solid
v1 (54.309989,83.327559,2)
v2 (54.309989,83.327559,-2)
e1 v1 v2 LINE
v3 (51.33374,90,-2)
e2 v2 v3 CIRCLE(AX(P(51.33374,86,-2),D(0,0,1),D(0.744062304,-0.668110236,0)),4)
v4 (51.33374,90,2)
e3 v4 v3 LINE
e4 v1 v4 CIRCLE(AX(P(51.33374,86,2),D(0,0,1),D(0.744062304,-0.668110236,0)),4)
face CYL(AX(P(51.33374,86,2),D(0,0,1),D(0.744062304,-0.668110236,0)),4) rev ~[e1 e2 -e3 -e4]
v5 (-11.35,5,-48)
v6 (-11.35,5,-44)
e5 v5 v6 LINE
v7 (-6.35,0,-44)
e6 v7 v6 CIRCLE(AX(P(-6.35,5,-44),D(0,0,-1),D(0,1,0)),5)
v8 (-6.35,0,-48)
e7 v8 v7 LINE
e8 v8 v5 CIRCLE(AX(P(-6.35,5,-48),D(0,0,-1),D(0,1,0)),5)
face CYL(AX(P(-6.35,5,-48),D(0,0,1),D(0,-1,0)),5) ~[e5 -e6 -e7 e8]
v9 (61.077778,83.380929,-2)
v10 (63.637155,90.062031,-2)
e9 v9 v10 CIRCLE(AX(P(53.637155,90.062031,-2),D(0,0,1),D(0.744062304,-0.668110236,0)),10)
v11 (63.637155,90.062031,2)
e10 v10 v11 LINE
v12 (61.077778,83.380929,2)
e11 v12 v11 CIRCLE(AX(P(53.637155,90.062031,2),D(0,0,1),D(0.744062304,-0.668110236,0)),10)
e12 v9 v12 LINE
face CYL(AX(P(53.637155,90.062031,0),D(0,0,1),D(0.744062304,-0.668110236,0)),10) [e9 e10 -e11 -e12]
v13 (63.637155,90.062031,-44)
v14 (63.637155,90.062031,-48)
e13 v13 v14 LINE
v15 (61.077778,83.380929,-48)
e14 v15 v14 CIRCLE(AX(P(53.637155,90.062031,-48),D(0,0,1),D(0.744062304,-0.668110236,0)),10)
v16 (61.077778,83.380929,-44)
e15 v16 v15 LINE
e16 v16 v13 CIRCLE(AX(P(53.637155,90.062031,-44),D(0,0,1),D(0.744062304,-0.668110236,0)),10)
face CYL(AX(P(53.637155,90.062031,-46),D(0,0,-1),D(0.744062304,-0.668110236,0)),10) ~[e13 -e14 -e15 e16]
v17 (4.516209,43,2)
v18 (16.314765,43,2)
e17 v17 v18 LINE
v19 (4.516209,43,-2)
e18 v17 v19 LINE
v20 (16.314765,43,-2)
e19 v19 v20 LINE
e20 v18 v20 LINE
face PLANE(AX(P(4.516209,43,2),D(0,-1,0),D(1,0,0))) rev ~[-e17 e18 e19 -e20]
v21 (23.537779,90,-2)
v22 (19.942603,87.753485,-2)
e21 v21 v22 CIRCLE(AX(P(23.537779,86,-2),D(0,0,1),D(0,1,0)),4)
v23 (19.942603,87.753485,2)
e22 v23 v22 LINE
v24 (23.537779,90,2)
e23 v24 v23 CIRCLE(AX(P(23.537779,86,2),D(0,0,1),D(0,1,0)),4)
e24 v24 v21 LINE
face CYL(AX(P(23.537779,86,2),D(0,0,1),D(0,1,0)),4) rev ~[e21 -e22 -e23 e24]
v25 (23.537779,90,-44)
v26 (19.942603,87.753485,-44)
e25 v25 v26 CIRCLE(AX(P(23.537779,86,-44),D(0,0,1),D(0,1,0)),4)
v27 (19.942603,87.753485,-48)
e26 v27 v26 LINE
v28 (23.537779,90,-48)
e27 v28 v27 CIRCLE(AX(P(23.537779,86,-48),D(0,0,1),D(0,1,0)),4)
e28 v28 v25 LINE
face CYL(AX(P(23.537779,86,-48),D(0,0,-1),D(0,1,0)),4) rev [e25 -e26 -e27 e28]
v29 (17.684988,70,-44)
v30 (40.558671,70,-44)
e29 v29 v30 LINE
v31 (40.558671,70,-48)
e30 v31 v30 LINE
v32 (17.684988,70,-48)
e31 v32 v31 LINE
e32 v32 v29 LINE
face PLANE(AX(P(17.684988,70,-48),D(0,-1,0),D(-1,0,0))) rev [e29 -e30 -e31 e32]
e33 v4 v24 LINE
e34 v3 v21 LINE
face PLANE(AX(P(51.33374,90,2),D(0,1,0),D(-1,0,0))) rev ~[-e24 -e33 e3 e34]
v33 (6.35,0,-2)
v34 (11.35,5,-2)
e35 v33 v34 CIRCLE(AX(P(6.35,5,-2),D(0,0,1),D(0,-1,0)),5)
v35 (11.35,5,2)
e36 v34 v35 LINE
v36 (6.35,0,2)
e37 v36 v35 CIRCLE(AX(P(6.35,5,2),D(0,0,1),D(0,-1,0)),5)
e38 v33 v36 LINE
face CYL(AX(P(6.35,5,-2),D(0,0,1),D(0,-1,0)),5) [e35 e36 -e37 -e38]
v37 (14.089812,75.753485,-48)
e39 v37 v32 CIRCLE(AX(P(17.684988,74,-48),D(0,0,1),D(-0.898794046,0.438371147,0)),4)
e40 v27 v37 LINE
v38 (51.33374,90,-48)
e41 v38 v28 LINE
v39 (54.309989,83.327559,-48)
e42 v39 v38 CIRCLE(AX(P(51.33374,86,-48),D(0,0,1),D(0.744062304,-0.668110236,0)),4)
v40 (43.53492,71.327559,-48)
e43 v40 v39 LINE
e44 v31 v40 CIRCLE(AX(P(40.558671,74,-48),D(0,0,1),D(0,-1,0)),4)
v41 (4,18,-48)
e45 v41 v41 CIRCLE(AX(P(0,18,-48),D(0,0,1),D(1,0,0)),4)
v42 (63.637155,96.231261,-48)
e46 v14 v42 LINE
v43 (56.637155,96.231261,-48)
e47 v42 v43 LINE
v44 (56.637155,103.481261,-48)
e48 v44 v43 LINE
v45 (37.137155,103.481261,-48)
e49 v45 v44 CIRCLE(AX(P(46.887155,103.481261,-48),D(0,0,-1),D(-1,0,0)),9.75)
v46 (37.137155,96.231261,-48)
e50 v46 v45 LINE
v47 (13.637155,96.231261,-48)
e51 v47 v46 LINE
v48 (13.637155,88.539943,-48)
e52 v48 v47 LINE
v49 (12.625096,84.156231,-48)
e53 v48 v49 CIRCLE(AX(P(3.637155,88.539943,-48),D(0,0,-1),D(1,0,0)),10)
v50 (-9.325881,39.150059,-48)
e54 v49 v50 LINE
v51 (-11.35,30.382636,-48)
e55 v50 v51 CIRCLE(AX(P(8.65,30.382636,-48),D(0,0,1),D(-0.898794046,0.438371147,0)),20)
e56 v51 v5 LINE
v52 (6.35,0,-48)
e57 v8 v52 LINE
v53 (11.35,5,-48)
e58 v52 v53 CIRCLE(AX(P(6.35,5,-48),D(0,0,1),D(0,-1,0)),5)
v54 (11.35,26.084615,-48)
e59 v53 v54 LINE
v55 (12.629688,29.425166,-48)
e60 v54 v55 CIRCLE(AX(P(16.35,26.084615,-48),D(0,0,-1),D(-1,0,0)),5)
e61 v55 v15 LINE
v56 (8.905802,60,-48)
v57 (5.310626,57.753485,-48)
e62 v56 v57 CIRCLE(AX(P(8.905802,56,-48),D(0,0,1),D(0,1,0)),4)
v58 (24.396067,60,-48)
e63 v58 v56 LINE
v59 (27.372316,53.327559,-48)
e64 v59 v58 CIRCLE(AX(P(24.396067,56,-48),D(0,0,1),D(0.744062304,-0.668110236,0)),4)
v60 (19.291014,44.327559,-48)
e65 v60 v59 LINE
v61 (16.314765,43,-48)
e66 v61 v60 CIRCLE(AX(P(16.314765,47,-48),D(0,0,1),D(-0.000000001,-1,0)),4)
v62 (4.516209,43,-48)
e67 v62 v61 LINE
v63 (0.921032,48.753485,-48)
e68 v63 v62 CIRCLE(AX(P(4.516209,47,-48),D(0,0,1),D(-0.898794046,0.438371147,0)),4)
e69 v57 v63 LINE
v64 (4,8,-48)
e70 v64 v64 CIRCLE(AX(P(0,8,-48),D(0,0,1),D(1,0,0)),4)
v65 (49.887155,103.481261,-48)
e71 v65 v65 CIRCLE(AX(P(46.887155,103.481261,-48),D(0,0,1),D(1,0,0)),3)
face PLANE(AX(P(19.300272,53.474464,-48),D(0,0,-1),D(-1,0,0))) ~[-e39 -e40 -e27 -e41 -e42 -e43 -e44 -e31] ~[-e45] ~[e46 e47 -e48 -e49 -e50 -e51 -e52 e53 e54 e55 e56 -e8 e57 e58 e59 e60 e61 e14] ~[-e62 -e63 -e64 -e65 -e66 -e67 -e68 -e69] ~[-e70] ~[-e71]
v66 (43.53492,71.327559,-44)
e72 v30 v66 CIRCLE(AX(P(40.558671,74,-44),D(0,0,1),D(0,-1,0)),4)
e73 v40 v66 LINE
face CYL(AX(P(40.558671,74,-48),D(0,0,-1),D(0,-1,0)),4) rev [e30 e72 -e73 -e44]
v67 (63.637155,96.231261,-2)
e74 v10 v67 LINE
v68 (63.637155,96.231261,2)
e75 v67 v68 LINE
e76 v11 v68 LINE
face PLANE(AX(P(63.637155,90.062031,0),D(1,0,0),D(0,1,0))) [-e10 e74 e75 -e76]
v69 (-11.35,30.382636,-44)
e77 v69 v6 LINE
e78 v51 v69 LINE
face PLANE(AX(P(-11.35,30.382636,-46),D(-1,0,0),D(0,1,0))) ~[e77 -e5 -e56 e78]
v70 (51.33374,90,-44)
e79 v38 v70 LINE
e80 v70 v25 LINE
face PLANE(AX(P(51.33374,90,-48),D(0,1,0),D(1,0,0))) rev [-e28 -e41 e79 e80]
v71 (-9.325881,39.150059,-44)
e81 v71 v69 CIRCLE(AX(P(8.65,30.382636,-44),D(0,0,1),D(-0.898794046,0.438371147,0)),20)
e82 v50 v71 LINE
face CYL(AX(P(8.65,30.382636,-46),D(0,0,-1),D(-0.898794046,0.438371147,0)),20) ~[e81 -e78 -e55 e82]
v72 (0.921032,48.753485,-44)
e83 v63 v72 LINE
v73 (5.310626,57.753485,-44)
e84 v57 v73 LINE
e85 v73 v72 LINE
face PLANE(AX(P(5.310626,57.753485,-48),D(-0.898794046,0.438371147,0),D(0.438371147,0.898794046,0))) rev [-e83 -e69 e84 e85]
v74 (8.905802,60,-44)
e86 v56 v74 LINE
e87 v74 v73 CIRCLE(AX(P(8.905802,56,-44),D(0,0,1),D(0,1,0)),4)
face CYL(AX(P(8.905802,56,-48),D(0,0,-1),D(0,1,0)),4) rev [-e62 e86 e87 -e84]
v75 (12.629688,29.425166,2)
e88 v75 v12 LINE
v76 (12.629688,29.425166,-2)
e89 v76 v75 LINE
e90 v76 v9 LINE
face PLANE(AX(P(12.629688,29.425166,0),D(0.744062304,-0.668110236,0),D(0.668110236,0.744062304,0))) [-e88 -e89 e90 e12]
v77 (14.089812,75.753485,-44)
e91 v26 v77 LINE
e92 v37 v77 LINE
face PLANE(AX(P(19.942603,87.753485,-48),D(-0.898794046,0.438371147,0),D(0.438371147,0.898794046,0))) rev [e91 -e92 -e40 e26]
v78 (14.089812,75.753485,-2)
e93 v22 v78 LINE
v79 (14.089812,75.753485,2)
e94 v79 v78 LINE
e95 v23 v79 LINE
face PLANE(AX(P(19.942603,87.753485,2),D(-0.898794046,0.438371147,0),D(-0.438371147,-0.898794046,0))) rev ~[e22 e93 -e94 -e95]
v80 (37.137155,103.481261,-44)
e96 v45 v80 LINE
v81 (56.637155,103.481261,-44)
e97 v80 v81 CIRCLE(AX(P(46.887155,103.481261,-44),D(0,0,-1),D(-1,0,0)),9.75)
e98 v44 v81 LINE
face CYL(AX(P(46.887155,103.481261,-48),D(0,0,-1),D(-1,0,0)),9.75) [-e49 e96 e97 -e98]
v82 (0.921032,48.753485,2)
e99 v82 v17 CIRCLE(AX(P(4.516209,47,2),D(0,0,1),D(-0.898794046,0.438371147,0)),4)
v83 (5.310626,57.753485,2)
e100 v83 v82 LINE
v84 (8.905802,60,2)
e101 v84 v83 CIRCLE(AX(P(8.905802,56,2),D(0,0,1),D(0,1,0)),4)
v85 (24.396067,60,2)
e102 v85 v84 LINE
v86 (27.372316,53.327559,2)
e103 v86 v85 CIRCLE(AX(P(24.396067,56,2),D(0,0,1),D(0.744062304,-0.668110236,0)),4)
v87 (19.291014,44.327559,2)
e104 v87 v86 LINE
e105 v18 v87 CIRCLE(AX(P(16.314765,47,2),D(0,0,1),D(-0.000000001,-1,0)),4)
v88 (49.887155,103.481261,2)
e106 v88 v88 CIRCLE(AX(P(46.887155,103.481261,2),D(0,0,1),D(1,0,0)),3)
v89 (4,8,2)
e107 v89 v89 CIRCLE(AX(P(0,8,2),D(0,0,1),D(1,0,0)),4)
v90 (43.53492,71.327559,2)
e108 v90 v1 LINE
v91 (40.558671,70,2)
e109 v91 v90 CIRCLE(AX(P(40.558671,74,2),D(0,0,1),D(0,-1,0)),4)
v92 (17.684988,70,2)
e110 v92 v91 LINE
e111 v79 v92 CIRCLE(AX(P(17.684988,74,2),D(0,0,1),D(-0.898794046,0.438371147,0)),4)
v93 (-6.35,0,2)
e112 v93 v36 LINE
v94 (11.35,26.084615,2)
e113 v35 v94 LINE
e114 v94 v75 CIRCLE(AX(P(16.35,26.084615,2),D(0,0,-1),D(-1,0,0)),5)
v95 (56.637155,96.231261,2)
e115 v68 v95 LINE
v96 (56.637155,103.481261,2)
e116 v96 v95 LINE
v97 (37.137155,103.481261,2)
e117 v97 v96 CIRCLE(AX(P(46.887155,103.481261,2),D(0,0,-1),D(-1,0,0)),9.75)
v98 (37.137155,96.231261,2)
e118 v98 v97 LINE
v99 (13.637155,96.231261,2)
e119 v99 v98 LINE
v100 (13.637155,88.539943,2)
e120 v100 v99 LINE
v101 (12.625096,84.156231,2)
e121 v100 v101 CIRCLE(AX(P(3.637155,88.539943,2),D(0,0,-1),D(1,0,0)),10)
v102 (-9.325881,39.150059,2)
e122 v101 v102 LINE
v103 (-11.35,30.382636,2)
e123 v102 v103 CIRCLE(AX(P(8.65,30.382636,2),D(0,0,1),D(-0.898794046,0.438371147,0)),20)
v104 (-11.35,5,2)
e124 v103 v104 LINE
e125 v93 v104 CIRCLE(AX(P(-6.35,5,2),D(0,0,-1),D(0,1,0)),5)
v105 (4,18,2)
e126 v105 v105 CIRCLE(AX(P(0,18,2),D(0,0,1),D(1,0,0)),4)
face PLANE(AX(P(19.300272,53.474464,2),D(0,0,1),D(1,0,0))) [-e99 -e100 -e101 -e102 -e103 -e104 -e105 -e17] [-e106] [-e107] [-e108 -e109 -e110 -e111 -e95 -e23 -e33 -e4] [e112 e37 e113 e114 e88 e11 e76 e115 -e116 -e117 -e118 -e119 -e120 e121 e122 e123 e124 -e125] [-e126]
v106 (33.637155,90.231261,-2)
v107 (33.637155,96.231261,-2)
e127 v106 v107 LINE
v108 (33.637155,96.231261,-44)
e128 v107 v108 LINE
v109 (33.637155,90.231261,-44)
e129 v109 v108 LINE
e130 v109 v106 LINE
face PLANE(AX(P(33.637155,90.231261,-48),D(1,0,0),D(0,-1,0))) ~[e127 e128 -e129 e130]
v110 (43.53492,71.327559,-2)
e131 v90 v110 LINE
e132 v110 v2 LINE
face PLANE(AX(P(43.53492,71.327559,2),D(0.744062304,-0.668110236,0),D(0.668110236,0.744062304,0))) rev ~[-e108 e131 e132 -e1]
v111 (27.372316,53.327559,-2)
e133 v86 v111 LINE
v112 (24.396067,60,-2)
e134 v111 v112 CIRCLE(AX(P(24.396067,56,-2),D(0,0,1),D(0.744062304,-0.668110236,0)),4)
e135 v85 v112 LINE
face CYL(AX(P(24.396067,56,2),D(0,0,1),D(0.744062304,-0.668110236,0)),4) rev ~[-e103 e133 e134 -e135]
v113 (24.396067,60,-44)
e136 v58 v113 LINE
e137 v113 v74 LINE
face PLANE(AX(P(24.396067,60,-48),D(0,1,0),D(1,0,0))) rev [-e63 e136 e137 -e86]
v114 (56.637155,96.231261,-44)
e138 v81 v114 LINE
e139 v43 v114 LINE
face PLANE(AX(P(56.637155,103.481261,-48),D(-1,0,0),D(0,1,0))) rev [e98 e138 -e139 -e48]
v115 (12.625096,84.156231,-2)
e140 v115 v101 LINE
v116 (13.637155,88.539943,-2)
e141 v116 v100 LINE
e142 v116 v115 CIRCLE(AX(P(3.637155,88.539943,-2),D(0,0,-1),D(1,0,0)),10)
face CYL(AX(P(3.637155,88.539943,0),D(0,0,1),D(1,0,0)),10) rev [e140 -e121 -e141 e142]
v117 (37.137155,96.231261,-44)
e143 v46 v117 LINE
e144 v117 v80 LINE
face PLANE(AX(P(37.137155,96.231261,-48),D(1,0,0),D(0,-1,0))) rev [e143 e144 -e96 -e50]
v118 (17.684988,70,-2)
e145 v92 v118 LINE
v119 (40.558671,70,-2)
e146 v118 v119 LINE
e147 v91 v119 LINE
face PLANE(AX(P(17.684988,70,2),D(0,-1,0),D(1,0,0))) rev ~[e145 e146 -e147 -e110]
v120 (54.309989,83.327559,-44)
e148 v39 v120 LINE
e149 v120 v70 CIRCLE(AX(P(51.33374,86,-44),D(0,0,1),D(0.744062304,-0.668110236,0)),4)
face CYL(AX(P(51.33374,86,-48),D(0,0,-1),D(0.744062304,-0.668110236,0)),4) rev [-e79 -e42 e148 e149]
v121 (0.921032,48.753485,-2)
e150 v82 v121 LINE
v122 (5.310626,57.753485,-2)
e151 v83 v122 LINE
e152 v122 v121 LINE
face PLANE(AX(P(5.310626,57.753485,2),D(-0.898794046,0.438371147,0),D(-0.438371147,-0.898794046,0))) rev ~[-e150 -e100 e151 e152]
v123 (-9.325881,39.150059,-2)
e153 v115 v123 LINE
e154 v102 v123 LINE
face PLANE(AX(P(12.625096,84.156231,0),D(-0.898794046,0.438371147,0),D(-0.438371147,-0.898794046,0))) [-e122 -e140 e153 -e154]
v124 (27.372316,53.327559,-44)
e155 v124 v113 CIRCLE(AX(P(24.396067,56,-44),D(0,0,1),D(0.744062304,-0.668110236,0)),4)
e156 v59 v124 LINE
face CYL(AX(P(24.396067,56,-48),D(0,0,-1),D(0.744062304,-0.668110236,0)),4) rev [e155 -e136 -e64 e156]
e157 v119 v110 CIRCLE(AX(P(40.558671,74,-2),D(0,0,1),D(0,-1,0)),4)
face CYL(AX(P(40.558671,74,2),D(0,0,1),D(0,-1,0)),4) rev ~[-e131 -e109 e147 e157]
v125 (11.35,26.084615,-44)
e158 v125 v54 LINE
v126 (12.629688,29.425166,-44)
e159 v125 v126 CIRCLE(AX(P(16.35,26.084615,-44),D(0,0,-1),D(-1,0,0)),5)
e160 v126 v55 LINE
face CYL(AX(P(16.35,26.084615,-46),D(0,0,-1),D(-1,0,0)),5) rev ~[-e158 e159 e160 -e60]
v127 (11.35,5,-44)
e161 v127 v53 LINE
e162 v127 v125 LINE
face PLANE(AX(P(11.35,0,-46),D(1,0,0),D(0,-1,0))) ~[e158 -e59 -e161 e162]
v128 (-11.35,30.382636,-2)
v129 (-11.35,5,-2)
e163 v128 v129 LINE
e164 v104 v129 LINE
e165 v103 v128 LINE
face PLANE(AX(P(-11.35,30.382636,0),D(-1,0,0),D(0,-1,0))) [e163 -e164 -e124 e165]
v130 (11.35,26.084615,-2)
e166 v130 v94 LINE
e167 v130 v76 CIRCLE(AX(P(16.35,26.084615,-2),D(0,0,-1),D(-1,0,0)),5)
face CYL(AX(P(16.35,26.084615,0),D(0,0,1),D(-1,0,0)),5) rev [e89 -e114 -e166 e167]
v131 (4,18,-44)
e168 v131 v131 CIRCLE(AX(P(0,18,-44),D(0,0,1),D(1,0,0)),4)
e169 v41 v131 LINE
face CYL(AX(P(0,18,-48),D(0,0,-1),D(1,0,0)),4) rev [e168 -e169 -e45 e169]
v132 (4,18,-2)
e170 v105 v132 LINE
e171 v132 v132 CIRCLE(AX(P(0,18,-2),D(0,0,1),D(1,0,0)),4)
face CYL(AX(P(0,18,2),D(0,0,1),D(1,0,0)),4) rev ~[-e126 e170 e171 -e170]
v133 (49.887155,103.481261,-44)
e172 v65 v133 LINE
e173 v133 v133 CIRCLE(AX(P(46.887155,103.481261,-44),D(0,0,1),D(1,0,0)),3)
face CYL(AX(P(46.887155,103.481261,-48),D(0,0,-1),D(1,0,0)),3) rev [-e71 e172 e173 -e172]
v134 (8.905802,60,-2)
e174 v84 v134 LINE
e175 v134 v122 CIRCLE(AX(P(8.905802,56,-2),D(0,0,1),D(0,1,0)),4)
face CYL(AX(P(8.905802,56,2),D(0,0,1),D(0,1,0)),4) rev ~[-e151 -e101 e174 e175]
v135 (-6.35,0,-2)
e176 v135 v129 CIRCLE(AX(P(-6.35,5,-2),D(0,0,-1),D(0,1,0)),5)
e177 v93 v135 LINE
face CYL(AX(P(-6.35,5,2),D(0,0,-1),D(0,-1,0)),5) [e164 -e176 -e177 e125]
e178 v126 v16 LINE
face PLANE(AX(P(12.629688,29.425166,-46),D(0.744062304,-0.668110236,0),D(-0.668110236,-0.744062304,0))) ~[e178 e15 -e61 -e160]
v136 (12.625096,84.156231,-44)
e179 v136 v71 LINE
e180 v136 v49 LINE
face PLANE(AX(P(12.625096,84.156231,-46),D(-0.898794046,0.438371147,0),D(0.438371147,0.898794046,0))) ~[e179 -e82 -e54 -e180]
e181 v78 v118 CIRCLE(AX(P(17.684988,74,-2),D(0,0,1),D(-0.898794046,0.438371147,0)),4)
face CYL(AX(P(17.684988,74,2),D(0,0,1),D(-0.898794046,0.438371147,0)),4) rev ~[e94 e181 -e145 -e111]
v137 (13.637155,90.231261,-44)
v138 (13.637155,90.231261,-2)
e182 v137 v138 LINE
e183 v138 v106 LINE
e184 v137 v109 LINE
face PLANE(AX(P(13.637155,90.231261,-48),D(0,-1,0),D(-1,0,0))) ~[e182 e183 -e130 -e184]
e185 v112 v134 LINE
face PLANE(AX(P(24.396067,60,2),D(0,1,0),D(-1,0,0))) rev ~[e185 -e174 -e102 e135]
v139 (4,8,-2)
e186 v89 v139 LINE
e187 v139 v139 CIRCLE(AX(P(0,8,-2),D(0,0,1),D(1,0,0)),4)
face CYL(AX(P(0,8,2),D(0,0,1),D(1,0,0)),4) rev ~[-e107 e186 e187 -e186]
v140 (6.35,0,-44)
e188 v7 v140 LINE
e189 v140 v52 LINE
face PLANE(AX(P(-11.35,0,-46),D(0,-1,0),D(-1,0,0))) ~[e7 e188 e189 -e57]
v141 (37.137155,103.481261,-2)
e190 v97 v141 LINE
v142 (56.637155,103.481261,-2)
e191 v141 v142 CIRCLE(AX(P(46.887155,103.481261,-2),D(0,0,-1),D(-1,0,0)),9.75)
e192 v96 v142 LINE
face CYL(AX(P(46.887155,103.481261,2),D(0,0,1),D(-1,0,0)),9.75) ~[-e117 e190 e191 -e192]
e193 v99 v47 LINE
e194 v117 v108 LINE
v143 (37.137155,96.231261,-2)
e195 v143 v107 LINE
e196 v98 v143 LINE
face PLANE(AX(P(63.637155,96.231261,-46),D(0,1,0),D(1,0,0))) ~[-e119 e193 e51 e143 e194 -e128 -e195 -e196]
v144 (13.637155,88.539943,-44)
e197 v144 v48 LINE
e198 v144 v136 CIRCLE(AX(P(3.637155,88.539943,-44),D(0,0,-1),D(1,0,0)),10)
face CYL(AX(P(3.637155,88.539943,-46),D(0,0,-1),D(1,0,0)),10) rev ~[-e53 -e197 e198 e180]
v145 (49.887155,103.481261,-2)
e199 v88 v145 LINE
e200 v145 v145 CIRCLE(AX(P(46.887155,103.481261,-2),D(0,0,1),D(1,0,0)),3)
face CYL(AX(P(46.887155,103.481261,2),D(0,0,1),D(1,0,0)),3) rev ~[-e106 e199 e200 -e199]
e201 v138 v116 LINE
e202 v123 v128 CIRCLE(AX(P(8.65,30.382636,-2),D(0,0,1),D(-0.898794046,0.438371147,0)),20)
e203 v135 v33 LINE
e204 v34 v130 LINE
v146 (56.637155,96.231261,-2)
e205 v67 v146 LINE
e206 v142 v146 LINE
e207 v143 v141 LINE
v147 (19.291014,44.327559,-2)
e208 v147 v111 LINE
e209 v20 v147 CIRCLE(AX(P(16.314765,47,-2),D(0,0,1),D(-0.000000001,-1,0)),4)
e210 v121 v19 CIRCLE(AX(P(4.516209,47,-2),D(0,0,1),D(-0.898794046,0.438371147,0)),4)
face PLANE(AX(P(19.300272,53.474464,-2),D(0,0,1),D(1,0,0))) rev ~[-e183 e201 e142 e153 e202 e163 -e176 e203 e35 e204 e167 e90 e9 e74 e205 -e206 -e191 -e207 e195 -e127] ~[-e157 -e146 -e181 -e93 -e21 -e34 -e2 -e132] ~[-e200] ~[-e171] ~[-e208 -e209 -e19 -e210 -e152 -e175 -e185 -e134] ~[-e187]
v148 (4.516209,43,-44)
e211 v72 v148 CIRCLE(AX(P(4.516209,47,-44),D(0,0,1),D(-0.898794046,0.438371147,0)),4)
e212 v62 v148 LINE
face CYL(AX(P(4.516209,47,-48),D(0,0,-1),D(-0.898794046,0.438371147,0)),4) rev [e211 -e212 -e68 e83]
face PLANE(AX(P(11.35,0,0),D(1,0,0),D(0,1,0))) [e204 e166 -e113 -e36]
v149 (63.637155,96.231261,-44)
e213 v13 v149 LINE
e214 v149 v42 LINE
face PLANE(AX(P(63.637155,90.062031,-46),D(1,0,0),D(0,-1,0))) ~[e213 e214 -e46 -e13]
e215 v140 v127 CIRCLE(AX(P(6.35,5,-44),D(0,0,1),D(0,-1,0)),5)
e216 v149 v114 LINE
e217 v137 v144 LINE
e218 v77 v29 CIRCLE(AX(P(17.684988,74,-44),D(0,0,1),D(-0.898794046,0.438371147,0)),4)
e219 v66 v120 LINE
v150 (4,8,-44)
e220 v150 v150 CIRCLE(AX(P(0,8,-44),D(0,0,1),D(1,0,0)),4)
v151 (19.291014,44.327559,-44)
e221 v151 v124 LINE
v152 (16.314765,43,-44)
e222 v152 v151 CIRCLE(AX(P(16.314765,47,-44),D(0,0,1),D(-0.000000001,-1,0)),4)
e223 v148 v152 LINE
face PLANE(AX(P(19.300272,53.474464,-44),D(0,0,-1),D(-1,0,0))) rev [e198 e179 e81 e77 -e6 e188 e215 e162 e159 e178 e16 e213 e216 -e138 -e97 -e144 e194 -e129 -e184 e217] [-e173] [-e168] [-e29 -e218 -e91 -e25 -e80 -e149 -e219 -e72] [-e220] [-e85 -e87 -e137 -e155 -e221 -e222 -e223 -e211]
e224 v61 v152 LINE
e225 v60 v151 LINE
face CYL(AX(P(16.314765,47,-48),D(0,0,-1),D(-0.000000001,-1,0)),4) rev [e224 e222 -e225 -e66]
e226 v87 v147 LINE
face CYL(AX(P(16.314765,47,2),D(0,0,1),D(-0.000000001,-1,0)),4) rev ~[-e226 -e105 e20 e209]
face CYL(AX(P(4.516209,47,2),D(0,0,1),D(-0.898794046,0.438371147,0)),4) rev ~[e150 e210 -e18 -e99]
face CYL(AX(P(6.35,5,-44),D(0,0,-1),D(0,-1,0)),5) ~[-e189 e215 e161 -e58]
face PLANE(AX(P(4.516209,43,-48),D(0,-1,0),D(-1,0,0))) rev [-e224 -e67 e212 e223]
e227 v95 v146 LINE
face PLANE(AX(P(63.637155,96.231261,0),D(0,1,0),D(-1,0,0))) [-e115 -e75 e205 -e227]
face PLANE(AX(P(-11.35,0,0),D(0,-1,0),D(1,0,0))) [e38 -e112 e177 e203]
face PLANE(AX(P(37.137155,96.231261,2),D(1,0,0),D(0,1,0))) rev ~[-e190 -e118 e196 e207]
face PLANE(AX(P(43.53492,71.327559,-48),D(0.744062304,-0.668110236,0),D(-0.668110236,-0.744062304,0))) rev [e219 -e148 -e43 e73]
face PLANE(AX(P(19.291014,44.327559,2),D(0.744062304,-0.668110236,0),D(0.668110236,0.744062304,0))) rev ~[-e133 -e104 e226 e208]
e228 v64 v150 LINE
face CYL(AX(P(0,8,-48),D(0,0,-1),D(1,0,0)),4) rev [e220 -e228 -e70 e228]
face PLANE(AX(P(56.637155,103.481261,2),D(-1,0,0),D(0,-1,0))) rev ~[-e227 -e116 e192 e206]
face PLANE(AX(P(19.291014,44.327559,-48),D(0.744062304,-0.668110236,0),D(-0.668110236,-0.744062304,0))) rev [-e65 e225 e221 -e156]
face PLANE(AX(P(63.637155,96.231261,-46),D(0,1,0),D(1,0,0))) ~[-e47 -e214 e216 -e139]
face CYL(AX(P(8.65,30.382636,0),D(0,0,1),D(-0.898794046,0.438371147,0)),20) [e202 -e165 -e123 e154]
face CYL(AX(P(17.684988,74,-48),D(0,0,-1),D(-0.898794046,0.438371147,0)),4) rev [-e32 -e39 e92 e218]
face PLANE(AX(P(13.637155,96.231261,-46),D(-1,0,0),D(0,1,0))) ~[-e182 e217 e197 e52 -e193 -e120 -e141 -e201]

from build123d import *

# Parameters (mm, degrees)
RESSALTO_EXTRUS_O1_DEPTH = 2
FILETE1_R                = 5
ESBO_O2_R                = 4
CORTE_EXTRUS_O1_DEPTH    = 116.438914874
CORTE_EXTRUS_O2_DEPTH    = 116.438914874
RESSALTO_EXTRUS_O2_DEPTH = 4
ESBO_O5_R                = 3
CORTE_EXTRUS_O3_DEPTH    = 130.950013194
ESBO_O6_W                = 20
ESBO_O6_H                = 6
RESSALTO_EXTRUS_O3_DEPTH = 25


with BuildPart() as part:
    # Esboço1 → Ressalto-extrusão1 (new, symmetric)
    with BuildSketch(Plane.XY):
        with BuildLine():
            Line((-11.35, 0), (11.35, 0))
            Line((11.35, 0), (11.35, 26.084614768))
            ThreePointArc((11.35, 26.084614768), (11.680869588, 27.873251455), (12.62968848, 29.425165949))
            Line((12.62968848, 29.425165949), (61.077778408, 83.380928741))
            ThreePointArc((61.077778408, 83.380928741), (62.97541619, 86.484757728), (63.637155367, 90.062031103))
            Line((63.637155367, 90.062031103), (63.637155367, 96.231260639))
            Line((63.637155367, 96.231260639), (13.637155367, 96.231260639))
            Line((13.637155367, 96.231260639), (13.637155367, 88.53994255))
            ThreePointArc((13.637155367, 88.53994255), (13.380856015, 86.290432007), (12.62509583, 84.156231082))
            Line((12.62509583, 84.156231082), (-9.325880926, 39.150059113))
            ThreePointArc((-9.325880926, 39.150059113), (-10.837401296, 34.881657264), (-11.35, 30.382636177))
            Line((-11.35, 30.382636177), (-11.35, 0))
        make_face()
    extrude(amount=RESSALTO_EXTRUS_O1_DEPTH, both=True)

    # Filete1
    filete1_edges = [part.edges().sort_by_distance(p)[0] for p in [
        (11.35, 0, 0),
        (-11.35, 0, 0),
    ]]
    fillet(filete1_edges, radius=FILETE1_R)

    # Esboço2 → Corte-extrusão1 (cut, through all)
    with BuildSketch(Plane.XY.offset(2)):
        with Locations((0, 8)):
            Circle(ESBO_O2_R)
        with Locations((0, 18)):
            Circle(ESBO_O2_R)
    extrude(amount=-CORTE_EXTRUS_O1_DEPTH, mode=Mode.SUBTRACT)

    # Esboço3 → Corte-extrusão2 (cut, through all)
    with BuildSketch(Plane.XY.offset(2)):
        with BuildLine():
            Line((4.516208527, 43), (16.314765002, 43))
            ThreePointArc((16.314765002, 43), (17.944218319, 43.346935274), (19.291014218, 44.327559055))
            Line((19.291014218, 44.327559055), (27.372316137, 53.327559055))
            ThreePointArc((27.372316137, 53.327559055), (28.049131646, 57.629453317), (24.39606692, 60))
            Line((24.39606692, 60), (8.905801824, 60))
            ThreePointArc((8.905801824, 60), (6.786124767, 59.392192385), (5.310625639, 57.753484587))
            Line((5.310625639, 57.753484587), (0.921032342, 48.753484587))
            ThreePointArc((0.921032342, 48.753484587), (1.124016142, 44.880322943), (4.516208527, 43))
        make_face()
        with BuildLine():
            Line((51.333739981, 90), (23.537779481, 90))
            ThreePointArc((23.537779481, 90), (21.418102424, 89.392192385), (19.942603296, 87.753484587))
            Line((19.942603296, 87.753484587), (14.089812233, 75.753484587))
            ThreePointArc((14.089812233, 75.753484587), (14.292796034, 71.880322943), (17.684988418, 70))
            Line((17.684988418, 70), (40.558670757, 70))
            ThreePointArc((40.558670757, 70), (42.188124073, 70.346935274), (43.534919973, 71.327559055))
            Line((43.534919973, 71.327559055), (54.309989197, 83.327559055))
            ThreePointArc((54.309989197, 83.327559055), (54.986804707, 87.629453317), (51.333739981, 90))
        make_face()
    extrude(amount=-CORTE_EXTRUS_O2_DEPTH, mode=Mode.SUBTRACT)

    # Esboço4 → Ressalto-extrusão2 (add)
    with BuildSketch(Plane.XY.offset(2)):
        with BuildLine():
            Line((37.137155367, 96.231260639), (37.137155367, 103.481260639))
            ThreePointArc((37.137155367, 103.481260639), (46.887155367, 113.231260639), (56.637155367, 103.481260639))
            Line((56.637155367, 103.481260639), (56.637155367, 96.231260639))
            Line((56.637155367, 96.231260639), (37.137155367, 96.231260639))
        make_face()
    extrude(amount=-RESSALTO_EXTRUS_O2_DEPTH)

    # Esboço5 → Corte-extrusão3 (cut, through all)
    with BuildSketch(Plane.XY.offset(2)):
        with Locations((46.887155367, 103.481260639)):
            Circle(ESBO_O5_R)
    extrude(amount=-CORTE_EXTRUS_O3_DEPTH, mode=Mode.SUBTRACT)

    # Esboço6 → Ressalto-extrusão3 (add)
    with BuildSketch(Plane.XY.offset(2)):
        with Locations((23.637155367, 93.231260639)):
            Rectangle(ESBO_O6_W, ESBO_O6_H)
    extrude(amount=-RESSALTO_EXTRUS_O3_DEPTH)

    # Espelhar5: part across plane


with BuildPart() as part_1:
    add(part.part)
    add(part.part.mirror(Plane.XY.offset(-23)))


solid = part_1.part
